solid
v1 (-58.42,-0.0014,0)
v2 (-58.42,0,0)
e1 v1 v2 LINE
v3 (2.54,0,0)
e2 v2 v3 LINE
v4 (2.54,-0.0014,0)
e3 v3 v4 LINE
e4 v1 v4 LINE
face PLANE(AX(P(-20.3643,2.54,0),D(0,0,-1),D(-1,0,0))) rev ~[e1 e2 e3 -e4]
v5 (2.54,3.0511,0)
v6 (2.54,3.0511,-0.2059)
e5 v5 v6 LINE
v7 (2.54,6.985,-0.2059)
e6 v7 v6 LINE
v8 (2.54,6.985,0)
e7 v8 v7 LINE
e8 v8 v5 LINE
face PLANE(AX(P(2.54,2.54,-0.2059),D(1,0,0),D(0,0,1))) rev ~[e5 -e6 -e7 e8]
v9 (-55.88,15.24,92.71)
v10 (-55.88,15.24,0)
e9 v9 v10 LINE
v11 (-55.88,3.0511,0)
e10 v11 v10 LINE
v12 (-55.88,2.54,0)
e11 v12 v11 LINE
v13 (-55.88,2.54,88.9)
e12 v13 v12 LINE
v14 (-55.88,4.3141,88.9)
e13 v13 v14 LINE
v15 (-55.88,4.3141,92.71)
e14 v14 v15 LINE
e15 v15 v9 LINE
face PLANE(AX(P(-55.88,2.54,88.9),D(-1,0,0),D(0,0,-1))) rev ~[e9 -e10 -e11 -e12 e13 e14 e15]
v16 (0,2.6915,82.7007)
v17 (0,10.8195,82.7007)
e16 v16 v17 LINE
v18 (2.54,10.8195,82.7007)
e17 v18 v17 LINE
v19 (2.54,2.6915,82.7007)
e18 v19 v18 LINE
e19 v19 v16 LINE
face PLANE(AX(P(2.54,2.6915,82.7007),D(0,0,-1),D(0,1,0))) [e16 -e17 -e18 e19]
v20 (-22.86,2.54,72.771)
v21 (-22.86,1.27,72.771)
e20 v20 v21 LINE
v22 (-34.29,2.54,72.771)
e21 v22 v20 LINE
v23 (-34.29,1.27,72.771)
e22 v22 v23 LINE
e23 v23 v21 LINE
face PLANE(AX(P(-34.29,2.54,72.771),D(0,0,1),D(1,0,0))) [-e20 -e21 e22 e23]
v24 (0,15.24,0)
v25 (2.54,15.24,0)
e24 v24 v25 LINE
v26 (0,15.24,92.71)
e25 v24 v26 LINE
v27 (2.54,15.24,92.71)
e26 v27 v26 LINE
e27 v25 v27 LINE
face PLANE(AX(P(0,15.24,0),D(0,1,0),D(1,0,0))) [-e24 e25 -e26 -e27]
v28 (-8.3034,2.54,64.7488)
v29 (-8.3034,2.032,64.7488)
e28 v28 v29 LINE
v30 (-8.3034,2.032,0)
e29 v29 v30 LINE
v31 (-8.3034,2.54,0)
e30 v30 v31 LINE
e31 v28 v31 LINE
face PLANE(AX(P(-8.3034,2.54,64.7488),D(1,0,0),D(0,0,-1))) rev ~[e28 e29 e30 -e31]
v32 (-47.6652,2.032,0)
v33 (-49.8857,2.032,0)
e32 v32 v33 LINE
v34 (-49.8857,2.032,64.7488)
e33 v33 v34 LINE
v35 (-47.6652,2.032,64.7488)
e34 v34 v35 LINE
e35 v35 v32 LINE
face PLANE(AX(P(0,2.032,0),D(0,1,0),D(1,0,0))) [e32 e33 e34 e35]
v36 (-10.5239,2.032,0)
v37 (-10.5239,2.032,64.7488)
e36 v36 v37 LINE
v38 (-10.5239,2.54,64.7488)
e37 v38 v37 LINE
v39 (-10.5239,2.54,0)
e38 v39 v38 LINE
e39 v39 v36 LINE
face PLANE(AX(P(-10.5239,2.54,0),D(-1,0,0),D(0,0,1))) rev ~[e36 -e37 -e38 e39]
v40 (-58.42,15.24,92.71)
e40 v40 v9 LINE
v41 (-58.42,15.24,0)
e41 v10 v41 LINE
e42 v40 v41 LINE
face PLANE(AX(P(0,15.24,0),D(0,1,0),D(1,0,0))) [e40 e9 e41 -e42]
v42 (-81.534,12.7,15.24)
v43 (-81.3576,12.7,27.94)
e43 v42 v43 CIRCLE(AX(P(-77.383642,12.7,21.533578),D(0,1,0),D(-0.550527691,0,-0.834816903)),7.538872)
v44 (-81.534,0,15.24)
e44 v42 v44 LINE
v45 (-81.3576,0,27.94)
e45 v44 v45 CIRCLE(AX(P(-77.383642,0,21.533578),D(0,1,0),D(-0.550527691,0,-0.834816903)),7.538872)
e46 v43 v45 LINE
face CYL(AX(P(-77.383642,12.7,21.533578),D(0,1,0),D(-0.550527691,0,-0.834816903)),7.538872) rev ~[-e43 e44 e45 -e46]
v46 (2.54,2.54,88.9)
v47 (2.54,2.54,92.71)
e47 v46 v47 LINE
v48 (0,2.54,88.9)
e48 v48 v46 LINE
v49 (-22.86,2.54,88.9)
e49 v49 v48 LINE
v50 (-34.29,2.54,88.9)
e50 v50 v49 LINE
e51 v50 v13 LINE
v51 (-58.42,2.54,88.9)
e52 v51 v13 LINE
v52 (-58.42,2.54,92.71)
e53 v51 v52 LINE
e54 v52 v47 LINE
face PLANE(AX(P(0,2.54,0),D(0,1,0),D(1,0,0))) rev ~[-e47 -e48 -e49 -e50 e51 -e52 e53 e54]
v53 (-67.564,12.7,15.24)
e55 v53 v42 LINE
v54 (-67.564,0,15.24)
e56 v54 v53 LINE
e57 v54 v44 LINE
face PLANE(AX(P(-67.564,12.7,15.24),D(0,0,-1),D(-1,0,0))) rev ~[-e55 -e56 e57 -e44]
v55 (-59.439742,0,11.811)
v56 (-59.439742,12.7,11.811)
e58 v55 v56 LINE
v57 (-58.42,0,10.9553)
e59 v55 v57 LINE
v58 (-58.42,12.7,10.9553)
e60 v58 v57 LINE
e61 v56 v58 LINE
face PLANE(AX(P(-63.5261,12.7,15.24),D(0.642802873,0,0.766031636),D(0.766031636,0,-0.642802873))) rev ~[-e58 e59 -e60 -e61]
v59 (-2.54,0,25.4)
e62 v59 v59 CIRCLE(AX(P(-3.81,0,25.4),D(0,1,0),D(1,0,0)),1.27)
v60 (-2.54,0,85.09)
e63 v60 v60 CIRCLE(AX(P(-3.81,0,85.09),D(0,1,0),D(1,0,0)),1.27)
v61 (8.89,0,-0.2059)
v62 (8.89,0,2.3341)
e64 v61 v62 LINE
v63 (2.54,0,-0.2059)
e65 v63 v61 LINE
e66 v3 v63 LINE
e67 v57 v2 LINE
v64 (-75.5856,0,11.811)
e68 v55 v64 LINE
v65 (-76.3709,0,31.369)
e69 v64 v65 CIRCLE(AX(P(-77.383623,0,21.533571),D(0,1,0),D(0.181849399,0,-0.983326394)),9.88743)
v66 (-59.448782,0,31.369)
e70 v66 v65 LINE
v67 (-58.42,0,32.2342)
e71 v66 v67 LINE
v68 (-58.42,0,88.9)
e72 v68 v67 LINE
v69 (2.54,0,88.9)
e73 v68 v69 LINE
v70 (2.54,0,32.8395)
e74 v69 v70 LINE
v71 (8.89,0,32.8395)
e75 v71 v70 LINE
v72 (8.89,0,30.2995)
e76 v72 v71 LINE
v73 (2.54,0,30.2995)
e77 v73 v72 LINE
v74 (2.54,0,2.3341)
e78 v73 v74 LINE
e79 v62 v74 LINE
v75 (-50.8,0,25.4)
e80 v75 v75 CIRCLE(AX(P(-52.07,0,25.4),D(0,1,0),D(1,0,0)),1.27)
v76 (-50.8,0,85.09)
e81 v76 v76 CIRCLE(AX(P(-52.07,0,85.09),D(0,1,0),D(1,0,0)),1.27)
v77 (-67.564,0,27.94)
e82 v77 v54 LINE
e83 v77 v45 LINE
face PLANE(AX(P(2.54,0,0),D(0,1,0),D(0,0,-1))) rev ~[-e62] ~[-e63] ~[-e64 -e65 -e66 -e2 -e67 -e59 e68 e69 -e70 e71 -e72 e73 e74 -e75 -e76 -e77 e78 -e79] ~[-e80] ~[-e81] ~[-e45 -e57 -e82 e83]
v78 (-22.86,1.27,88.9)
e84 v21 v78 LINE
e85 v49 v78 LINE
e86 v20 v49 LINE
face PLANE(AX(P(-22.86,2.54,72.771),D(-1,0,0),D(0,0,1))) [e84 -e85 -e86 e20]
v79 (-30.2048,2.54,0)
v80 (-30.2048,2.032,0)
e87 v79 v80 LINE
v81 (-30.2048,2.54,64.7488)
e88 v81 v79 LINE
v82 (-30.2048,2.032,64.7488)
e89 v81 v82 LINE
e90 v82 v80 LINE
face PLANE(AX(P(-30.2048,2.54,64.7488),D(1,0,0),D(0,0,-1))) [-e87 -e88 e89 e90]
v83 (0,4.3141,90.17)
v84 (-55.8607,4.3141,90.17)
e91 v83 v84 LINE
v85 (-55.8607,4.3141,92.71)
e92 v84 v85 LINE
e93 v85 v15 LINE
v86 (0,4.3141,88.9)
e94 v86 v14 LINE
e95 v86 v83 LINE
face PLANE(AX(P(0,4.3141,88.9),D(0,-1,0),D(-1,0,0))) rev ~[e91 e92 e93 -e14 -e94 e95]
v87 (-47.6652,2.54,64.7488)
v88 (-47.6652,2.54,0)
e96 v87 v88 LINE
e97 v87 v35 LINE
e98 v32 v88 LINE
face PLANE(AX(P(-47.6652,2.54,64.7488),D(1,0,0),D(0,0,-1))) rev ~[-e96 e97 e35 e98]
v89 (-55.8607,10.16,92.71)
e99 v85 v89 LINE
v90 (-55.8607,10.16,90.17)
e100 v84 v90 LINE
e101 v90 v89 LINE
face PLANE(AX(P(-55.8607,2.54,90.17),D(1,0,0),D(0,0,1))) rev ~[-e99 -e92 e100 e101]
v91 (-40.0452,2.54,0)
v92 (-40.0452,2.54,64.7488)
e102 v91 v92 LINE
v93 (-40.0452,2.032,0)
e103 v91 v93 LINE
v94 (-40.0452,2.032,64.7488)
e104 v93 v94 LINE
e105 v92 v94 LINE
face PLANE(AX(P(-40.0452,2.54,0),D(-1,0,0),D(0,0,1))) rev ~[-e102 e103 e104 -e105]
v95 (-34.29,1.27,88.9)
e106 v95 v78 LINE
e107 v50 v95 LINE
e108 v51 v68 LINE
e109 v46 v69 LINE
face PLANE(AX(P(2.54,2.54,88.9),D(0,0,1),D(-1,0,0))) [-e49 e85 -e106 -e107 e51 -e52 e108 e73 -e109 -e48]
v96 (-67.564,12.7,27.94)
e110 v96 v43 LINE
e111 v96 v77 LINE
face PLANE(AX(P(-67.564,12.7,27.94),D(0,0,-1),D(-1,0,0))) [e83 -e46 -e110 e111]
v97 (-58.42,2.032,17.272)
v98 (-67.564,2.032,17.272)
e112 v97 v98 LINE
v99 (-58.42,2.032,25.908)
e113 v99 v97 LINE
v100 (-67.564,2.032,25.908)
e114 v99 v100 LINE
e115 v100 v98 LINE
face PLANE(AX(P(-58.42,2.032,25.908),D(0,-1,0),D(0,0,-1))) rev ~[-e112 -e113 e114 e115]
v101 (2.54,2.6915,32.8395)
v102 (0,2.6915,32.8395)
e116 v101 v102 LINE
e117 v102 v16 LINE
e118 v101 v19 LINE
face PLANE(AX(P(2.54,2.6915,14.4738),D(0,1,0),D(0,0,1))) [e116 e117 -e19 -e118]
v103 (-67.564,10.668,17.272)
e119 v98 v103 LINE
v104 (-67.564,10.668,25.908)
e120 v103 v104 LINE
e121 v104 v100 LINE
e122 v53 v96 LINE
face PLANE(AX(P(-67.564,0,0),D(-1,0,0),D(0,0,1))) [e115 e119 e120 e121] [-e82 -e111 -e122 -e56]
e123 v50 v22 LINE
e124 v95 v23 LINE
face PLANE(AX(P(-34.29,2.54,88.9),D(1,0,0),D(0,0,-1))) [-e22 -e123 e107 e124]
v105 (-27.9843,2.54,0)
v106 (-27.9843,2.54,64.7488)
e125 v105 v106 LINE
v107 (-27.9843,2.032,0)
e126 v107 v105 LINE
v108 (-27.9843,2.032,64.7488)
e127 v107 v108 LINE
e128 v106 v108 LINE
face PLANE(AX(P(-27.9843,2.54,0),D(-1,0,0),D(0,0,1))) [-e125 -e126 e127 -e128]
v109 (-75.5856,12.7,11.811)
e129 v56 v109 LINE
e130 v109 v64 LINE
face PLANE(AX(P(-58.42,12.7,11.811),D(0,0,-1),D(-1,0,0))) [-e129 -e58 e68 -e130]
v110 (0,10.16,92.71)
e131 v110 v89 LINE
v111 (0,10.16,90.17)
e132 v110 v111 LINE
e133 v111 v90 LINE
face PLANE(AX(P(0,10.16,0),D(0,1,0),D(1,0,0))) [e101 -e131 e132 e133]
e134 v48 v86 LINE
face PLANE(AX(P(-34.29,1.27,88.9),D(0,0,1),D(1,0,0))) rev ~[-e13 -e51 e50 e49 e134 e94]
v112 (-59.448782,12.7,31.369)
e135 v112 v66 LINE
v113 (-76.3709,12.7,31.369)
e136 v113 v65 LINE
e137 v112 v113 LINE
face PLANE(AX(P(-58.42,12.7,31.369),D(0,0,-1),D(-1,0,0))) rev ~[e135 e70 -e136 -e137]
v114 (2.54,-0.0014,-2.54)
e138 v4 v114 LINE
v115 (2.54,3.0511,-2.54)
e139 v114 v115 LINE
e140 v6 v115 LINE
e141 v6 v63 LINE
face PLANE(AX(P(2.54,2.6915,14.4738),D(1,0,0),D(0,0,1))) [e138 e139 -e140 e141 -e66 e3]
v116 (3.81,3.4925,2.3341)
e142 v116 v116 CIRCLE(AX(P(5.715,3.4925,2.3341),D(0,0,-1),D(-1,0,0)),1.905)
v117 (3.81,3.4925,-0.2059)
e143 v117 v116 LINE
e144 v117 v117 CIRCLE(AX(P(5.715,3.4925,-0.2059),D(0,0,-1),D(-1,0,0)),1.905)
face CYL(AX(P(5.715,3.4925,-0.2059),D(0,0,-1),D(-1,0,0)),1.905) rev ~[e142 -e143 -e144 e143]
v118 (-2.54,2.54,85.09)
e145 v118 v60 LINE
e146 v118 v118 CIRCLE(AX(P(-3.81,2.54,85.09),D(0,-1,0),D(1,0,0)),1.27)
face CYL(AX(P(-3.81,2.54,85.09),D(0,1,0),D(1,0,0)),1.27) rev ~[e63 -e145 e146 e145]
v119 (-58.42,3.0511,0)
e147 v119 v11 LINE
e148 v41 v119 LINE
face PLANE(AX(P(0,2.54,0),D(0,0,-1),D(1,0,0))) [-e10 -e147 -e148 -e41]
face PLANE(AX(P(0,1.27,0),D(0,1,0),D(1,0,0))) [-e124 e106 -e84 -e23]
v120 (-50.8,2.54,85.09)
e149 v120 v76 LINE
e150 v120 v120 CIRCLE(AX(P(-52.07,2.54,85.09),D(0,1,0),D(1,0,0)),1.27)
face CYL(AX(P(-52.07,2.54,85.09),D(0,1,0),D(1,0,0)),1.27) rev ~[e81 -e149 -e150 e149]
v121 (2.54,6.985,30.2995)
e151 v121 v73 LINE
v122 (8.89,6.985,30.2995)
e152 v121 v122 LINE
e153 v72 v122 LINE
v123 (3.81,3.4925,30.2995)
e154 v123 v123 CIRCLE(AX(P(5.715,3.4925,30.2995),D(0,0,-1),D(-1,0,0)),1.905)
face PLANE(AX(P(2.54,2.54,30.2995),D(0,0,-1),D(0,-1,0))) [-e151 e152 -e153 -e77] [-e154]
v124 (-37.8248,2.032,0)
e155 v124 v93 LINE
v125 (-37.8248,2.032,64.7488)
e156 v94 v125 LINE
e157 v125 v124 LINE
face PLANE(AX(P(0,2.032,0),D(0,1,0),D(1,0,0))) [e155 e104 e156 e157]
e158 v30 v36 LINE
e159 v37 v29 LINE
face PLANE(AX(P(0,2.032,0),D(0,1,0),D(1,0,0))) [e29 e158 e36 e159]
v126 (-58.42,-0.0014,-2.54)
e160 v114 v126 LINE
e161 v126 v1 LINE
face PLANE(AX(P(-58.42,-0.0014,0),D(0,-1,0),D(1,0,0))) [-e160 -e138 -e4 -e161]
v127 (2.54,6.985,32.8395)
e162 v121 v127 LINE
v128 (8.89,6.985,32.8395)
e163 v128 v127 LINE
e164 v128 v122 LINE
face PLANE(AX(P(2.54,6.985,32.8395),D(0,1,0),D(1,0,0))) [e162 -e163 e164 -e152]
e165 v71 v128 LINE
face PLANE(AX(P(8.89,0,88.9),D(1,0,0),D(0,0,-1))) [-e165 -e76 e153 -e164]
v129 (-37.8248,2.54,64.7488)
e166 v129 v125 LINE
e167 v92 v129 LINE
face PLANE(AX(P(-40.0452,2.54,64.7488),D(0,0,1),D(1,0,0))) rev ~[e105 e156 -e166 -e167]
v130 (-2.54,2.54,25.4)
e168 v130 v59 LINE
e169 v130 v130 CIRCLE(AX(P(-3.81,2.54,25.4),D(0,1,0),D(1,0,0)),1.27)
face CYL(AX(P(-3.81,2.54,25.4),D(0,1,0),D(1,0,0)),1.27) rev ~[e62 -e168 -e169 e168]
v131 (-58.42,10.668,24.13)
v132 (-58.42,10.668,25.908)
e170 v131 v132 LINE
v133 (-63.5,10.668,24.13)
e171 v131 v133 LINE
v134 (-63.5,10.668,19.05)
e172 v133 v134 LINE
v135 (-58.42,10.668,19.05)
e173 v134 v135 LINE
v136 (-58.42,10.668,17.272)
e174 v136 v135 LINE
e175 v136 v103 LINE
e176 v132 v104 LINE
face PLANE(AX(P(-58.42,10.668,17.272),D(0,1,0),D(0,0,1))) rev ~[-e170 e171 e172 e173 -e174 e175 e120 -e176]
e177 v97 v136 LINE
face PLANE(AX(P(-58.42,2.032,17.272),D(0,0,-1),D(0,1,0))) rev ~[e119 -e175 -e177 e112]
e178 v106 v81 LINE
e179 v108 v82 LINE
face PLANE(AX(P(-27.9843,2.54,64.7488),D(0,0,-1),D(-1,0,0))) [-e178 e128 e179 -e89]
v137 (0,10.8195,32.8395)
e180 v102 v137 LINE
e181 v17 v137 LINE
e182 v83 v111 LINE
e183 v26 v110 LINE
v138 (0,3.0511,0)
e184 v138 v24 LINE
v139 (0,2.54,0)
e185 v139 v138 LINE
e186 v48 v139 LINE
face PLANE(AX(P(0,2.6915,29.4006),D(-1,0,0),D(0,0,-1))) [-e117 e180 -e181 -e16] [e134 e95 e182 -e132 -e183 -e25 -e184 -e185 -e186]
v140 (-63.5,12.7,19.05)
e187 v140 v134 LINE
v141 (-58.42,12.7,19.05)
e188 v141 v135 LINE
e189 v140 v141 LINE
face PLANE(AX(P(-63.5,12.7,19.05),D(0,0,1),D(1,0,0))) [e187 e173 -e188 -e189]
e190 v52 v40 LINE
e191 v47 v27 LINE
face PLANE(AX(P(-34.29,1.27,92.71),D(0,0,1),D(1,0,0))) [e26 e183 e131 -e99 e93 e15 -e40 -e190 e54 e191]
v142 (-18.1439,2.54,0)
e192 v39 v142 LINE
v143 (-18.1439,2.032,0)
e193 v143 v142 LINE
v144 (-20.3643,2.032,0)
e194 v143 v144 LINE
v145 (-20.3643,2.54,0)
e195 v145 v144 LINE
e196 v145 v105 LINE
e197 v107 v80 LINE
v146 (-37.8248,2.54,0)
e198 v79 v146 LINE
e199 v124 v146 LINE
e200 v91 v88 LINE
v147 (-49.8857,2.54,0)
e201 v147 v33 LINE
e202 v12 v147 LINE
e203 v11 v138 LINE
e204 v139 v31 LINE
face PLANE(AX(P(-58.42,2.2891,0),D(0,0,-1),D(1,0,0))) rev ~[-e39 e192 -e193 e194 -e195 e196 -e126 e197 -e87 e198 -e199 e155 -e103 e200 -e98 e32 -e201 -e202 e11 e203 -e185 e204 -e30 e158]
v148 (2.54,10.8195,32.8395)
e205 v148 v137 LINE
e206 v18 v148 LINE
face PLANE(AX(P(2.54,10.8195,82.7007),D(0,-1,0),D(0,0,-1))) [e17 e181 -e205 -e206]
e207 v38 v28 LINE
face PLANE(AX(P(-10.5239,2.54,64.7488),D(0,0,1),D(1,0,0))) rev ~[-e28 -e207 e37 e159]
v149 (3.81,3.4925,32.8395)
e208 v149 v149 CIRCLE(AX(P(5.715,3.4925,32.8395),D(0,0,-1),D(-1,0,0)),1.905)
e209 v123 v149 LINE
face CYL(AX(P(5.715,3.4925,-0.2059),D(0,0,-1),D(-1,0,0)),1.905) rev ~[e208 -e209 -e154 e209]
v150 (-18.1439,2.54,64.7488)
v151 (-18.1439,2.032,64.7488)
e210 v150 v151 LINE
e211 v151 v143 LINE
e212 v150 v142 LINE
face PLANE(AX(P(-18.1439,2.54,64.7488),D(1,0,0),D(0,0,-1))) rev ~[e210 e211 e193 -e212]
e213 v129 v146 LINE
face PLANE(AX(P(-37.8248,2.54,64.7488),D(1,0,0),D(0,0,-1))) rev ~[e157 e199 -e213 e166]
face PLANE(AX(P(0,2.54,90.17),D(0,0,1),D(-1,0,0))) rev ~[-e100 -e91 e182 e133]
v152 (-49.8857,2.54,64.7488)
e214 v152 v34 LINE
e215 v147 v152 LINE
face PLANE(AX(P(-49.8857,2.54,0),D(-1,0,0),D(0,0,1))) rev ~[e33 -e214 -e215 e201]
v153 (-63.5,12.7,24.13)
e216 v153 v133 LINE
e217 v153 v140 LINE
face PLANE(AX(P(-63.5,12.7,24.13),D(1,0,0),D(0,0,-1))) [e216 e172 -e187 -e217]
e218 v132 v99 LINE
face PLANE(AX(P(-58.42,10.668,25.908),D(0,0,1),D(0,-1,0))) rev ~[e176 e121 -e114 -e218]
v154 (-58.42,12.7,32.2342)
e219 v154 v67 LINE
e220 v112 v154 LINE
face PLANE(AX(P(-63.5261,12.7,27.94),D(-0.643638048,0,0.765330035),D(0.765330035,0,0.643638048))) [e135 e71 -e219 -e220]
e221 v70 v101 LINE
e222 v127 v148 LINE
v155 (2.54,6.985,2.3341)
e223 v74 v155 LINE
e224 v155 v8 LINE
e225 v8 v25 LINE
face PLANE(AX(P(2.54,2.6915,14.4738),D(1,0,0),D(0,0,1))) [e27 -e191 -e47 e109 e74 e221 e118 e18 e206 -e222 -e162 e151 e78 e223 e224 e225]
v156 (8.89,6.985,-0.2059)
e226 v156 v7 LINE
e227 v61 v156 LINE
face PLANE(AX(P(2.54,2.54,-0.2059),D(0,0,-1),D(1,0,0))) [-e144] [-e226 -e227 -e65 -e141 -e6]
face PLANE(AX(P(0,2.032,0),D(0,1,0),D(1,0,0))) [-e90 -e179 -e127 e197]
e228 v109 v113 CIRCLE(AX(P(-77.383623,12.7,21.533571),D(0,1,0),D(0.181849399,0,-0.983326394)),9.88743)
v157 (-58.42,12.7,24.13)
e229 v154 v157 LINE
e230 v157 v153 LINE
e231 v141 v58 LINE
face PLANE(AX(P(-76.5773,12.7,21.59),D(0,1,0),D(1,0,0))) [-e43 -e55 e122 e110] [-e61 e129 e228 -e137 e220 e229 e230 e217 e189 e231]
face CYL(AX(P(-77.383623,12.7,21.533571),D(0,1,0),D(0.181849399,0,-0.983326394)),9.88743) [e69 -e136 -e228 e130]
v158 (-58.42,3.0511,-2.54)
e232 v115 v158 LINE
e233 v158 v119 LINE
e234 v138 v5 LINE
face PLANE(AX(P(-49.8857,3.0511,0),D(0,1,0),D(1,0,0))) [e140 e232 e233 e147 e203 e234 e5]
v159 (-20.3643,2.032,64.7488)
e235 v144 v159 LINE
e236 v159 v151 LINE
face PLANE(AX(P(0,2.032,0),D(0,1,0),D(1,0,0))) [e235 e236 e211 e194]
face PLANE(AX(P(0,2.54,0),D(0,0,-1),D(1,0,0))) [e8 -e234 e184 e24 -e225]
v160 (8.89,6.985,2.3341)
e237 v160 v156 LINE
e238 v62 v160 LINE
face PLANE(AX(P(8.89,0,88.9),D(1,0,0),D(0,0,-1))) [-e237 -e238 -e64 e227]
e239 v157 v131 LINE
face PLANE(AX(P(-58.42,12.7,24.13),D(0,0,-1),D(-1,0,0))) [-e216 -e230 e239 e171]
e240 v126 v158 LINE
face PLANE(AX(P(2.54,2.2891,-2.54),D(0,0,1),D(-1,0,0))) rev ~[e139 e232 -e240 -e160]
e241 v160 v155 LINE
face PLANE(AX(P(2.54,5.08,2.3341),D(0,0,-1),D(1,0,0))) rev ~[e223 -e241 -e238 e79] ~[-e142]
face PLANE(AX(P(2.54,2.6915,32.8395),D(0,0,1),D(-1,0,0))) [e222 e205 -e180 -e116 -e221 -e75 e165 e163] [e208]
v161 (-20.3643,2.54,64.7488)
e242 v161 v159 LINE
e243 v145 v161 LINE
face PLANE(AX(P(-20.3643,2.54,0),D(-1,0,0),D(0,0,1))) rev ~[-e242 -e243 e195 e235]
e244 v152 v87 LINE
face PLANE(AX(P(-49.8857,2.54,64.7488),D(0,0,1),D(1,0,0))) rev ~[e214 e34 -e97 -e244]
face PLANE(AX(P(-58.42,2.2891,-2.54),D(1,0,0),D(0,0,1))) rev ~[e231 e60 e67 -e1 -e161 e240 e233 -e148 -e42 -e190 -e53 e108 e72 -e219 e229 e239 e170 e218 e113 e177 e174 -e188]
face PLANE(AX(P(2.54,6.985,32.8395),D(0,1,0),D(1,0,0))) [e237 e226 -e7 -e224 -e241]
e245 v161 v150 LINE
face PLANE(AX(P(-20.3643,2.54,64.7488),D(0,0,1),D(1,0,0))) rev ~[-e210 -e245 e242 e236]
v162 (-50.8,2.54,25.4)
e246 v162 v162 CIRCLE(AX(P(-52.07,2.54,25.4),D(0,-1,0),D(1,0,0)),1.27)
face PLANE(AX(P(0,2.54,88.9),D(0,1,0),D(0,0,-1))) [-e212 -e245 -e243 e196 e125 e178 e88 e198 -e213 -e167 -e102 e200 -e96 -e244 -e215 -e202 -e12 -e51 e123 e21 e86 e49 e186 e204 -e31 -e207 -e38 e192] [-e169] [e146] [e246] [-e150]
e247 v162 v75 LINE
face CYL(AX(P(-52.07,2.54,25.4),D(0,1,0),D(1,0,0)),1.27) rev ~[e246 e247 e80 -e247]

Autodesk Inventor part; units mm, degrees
ref_plane "YZ Plane" through (0, 0, 0) normal (1, 0, 0) x (0, 1, 0)
ref_plane "XZ Plane" through (0, 0, 0) normal (0, 1, 0) x (-1, 0, 0)
ref_plane "XY Plane" through (0, 0, 0) normal (0, 0, 1) x (1, 0, 0)
sketch "Sketch1" plane through (0, 0, 0) normal (0, 1, 0) x (-1, 0, 0)
  line L0 (0, 0) -> (55.88, 0)
  line L1 (55.88, 0) -> (55.88, 88.9)
  line L2 (55.88, 88.9) -> (0, 88.9)
  line L3 (0, 88.9) -> (0, 0)
  dimension "d0" = 55.88
  dimension "d1" = 88.9
extrude "Extrusion1" add sketch "Sketch1" along normal blind 2.54
sketch "Sketch2" plane through (0, 2.54, 0) normal (0, 1, 0) x (1, 0, 0)
  line L0 (-55.88, -88.9) -> (0, -88.9) projected
  line L1 (-22.86, -88.9) -> (-34.29, -88.9)
  line L2 (-34.29, -88.9) -> (-34.29, -72.771)
  line L3 (-34.29, -72.771) -> (-22.86, -72.771)
  line L4 (-22.86, -72.771) -> (-22.86, -88.9)
  point P0 (0, 0)
  dimension "d4" = 11.43
  dimension "d5" = 16.129
  dimension "d6" = 21.59
  dimension "d7" = 22.86
extrude "Extrusion2" cut sketch "Sketch2" against normal blind 1.27
sketch "Sketch3" plane through (0, 2.54, 0) normal (0, 1, 0) x (1, 0, 0)
  line L0 (-10.5239, -64.7488) -> (-8.3034, -64.7488)
  line L1 (-8.3034, -64.7488) -> (-8.3034, 0)
  line L2 (-8.3034, 0) -> (-10.5239, 0)
  line L3 (-10.5239, 0) -> (-10.5239, -64.7488)
  line L4 (0, 0) -> (-55.88, 0) projected
  line L5 (-27.9843, -64.7488) -> (-30.2048, -64.7488)
  line L6 (-30.2048, -64.7488) -> (-30.2048, 0)
  line L7 (-30.2048, 0) -> (-27.9843, 0)
  line L8 (-27.9843, 0) -> (-27.9843, -64.7488)
  line L9 (-49.8857, -64.7488) -> (-47.6652, -64.7488)
  line L10 (-47.6652, -64.7488) -> (-47.6652, 0)
  line L11 (-47.6652, 0) -> (-49.8857, 0)
  line L12 (-49.8857, 0) -> (-49.8857, -64.7488)
  line L13 (-40.0452, -64.7488) -> (-37.8248, -64.7488)
  line L14 (-37.8248, -64.7488) -> (-37.8248, 0)
  line L15 (-37.8248, 0) -> (-40.0452, 0)
  line L16 (-40.0452, 0) -> (-40.0452, -64.7488)
  line L17 (-20.3643, -64.7488) -> (-18.1439, -64.7488)
  line L18 (-18.1439, -64.7488) -> (-18.1439, 0)
  line L19 (-18.1439, 0) -> (-20.3643, 0)
  line L20 (-20.3643, 0) -> (-20.3643, -64.7488)
  line L21 (-47.6652, -64.7488) -> (-40.0452, -64.7488)
  line L22 (-34.29, -72.771) -> (-22.86, -72.771) projected
  line L23 (-37.8248, -64.7488) -> (-30.2048, -64.7488)
  line L24 (-27.9843, -64.7488) -> (-20.3643, -64.7488)
  line L25 (-18.1439, -64.7488) -> (-10.5239, -64.7488)
  dimension "d10" = 7.62
extrude "Extrusion3" cut sketch "Sketch3" against normal blind 0.508 contours L3 L2 L1 L0 | L17 L20 L4 L18 | L5 L6 L4 L8 | L13 L16 L4 L14 | L9 L12 L4 L10
sketch "Sketch4" plane through (-55.88, 0, 0) normal (-1, 0, 0) x (0, 0, 1)
  line L0 (88.9, 0) -> (0, 0) projected
  line L1 (88.9, 0) -> (0, 0)
  line L2 (0, 0) -> (0, 2.54)
  line L3 (0, 2.54) -> (88.9, 2.54)
  line L4 (88.9, 2.54) -> (88.9, 0)
extrude "Extrusion4" add sketch "Sketch4" along normal blind 2.54
sketch "Sketch5" plane through (0, 2.54, 0) normal (0, 1, 0) x (1, 0, 0)
  line L0 (0, -88.9) -> (-58.42, -88.9) projected
  line L1 (-49.8857, 0) -> (-58.42, 0) projected
  line L2 (-58.42, -88.9) -> (-55.88, -88.9)
  line L3 (-55.88, -88.9) -> (-55.88, 0)
  line L4 (-55.88, 0) -> (-58.42, 0)
  line L5 (-58.42, 0) -> (-58.42, -88.9)
  point P0 (0, 0)
  dimension "d15" = 2.54
extrude "Extrusion5" add sketch "Sketch5" along normal blind 12.7
sketch "Sketch6" plane through (0, 0, 88.9) normal (1, 0, 0) x (0, 0, -1)
  line L0 (0, 2.54) -> (16.129, 2.54) projected
  line L1 (0, 0) -> (88.9, 0) projected
  line L2 (0, 2.54) -> (88.9, 2.54)
  line L3 (88.9, 2.54) -> (88.9, 0)
  line L4 (88.9, 0) -> (0, 0)
  line L5 (0, 0) -> (0, 2.54)
extrude "Extrusion6" add sketch "Sketch6" along normal blind 2.54
sketch "Sketch7" plane through (0, 2.54, 0) normal (0, 1, 0) x (1, 0, 0)
  line L0 (2.54, 0) -> (2.54, -88.9) projected
  line L1 (2.54, -88.9) -> (0, -88.9)
  line L2 (0, -88.9) -> (0, 0)
  line L3 (0, 0) -> (2.54, 0)
  line L4 (2.54, 0) -> (2.54, -88.9)
extrude "Extrusion7" add sketch "Sketch7" along normal blind 12.7
sketch "Sketch8" plane through (-34.29, 1.27, 88.9) normal (0, 0, 1) x (1, 0, 0)
  line L0 (-24.13, -1.27) -> (-24.13, 13.97) projected
  line L1 (-21.59, 1.27) -> (-21.59, 13.97) projected
  line L2 (-24.13, 13.97) -> (-21.59, 13.97)
  line L3 (-21.59, 13.97) -> (-21.59, 1.27)
  line L4 (-21.59, 1.27) -> (-24.13, 1.27)
  line L5 (-24.13, 1.27) -> (-24.13, 13.97)
  line L6 (-24.13, 1.27) -> (36.83, 1.27)
  line L7 (36.83, 1.27) -> (36.83, 3.0441)
  line L8 (36.83, 3.0441) -> (-24.13, 3.0441)
  line L9 (-24.13, 3.0441) -> (-24.13, 1.27)
  line L10 (36.83, -1.27) -> (36.83, 13.97) projected
  line L11 (34.29, 1.27) -> (36.83, 1.27)
  line L12 (36.83, 1.27) -> (36.83, 13.97)
  line L13 (36.83, 13.97) -> (34.29, 13.97)
  line L14 (34.29, 13.97) -> (34.29, 1.27)
  line L15 (13.9257, 1.27) -> (6.3057, 1.27) projected
  line L16 (11.43, 0) -> (0, 0) projected
  line L17 (11.3074, 1.27) -> (0, 1.27)
  line L18 (0, 1.27) -> (0, 0)
  line L19 (0, 0) -> (11.3074, 0)
  line L20 (11.3074, 0) -> (11.3074, 1.27)
  point P0 (34.29, -1.27)
extrude "Extrusion8" add sketch "Sketch8" along normal blind 3.81 contours L0 L8 L1 L4 | L0 L2 L1 L8 | L1 L8 L14 L6 | L14 L13 L10 L8 | L8 L7 L6 L14
sketch "Sketch9" plane through (0, 2.54, 0) normal (0, 1, 0) x (1, 0, 0)
  line L0 (0, -92.71) -> (-55.88, -92.71) projected
  line L1 (-55.8607, -92.71) -> (0, -92.71)
  line L2 (0, -92.71) -> (0, -90.17)
  line L3 (0, -90.17) -> (-55.8607, -90.17)
  line L4 (-55.8607, -90.17) -> (-55.8607, -92.71)
  point P0 (0, 0)
  point P1 (-58.42, -92.71)
  point P2 (2.54, -92.71)
  dimension "d24" = 2.54
extrude "Extrusion9" add sketch "Sketch9" along normal blind 7.62
sketch "Sketch10" plane through (-20.3643, 2.54, 0) normal (0, 0, -1) x (-1, 0, 0)
  line L0 (-22.9043, 0) -> (-22.9043, 12.7) projected
  line L1 (38.0557, -2.54) -> (38.0557, 12.7) projected
  line L2 (-22.9043, -3.3059) -> (38.0557, -3.3059)
  line L3 (38.0557, -3.3059) -> (38.0557, -0.2509)
  line L4 (38.0557, -0.2509) -> (-22.9043, -0.2509)
  line L5 (-22.9043, -0.2509) -> (-22.9043, -3.3059)
  point P0 (-20.3643, -2.54)
extrude "Extrusion10" add sketch "Sketch10" along normal blind 2.54
sketch "Sketch11" plane through (-49.8857, 2.2891, 0) normal (0, 1, 0) x (1, 0, 0)
  line L0 (52.4257, 2.54) -> (-8.5343, 2.54) projected
  line L1 (-8.5343, 0) -> (52.4257, 0)
  line L2 (52.4257, 0) -> (52.4257, 2.54)
  line L3 (52.4257, 2.54) -> (-8.5343, 2.54)
  line L4 (-8.5343, 2.54) -> (-8.5343, 0)
  point P0 (49.8857, 0)
extrude "Extrusion12" add sketch "Sketch11" along normal blind 0.762
sketch "Sketch13" plane through (2.54, 0, 88.9) normal (1, 0, 0) x (0, 0, -1)
  line L0 (6.1993, 10.8195) -> (74.4262, 10.8195)
  line L1 (74.4262, 10.8195) -> (74.4262, 2.6915)
  line L2 (74.4262, 2.6915) -> (6.1993, 2.6915)
  line L3 (6.1993, 2.6915) -> (6.1993, 10.8195)
  line L4 (0, 2.54) -> (-3.81, 2.54) projected
  line L5 (0, 2.54) -> (0, 4.3141) projected
  point P0 (88.9, 0)
  dimension "d35" = 8.128
  dimension "d37" = 6.1993
extrude "Extrusion13" cut sketch "Sketch13" against normal blind 2.54
sketch "Sketch14" plane through (0, 2.54, 0) normal (0, 1, 0) x (1, 0, 0)
  circle A0 centre (-52.07, -85.09) radius 1.27
  circle A1 centre (-3.81, -85.09) radius 1.27
  circle A2 centre (-3.81, -25.4) radius 1.27
  circle A3 centre (-52.07, -25.4) radius 1.27
  line L0 (-55.88, 0) -> (0, 0) projected
  line L1 (-53.34, -25.4261) -> (-53.34, -22.8861)
  line L2 (-55.88, 0) -> (-55.88, -92.71) projected
  line L3 (-2.54, -85.09) -> (-2.54, -82.3477)
  line L4 (0, 0) -> (0, -92.71) projected
  line L5 (-3.81, -86.36) -> (-2.794, -86.36)
  line L6 (-22.86, -88.9) -> (0, -88.9) projected
  dimension "d40" = 2.54
  dimension "d41" = 25.4
  dimension "d42" = 2.54
  dimension "d43" = 2.54
  dimension "d44" = 2.54
extrude "Extrusion14" cut sketch "Sketch14" against normal blind 10.922
sketch "Sketch19" plane through (2.54, 2.6915, 82.7007) normal (0, 1, 0) x (1, 0, 0)
  line L0 (-2.54, -6.1993) -> (-2.54, 82.7007) projected
  line L1 (0, 68.2269) -> (0, 0) projected
  line L2 (-2.54, 68.7335) -> (0, 68.7335)
  line L3 (0, 68.7335) -> (0, 53.3001)
  line L4 (0, 53.3001) -> (-2.54, 53.3001)
  line L5 (-2.54, 53.3001) -> (-2.54, 68.7335)
extrude "Extrusion19" add sketch "Sketch19" along normal blind 10.16
sketch "Sketch20" plane through (2.54, 0, 88.9) normal (1, 0, 0) x (0, 0, -1)
  line L0 (56.0605, 2.54) -> (58.6005, 2.54)
  line L1 (58.6005, 2.54) -> (58.6005, 0)
  line L2 (58.6005, 0) -> (56.0605, 0)
  line L3 (56.0605, 0) -> (56.0605, 2.54)
  line L4 (88.9, 0) -> (0, 0) projected
  line L5 (89.1059, 2.54) -> (86.5659, 2.54)
  line L6 (86.5659, 2.54) -> (86.5659, 0)
  line L7 (86.5659, 0) -> (89.1059, 0)
  line L8 (89.1059, 0) -> (89.1059, 2.54)
  line L9 (0, 2.54) -> (88.9, 2.54) projected
  point P0 (57.3305, 0)
  dimension "d61" = 2.54
  dimension "d69" = 27.9654
extrude "Extrusion20" add sketch "Sketch20" along normal blind 5.08 contours L0 L1 L2 L3 | L5 L8 L7 L4 L6
sketch "Sketch21" plane through (2.54, 2.54, 32.8395) normal (0, 1, 0) x (1, 0, 0)
  line L0 (0, 2.54) -> (5.08, 2.54) projected
  line L1 (0, 0) -> (5.08, 0)
  line L2 (5.08, 0) -> (5.08, 2.54)
  line L3 (5.08, 2.54) -> (0, 2.54)
  line L4 (0, 2.54) -> (0, 0)
  line L5 (0, 33.0454) -> (5.08, 33.0454) projected
  line L6 (0, 30.5054) -> (5.08, 30.5054)
  line L7 (5.08, 30.5054) -> (5.08, 33.0454)
  line L8 (5.08, 33.0454) -> (0, 33.0454)
  line L9 (0, 33.0454) -> (0, 30.5054)
  point P0 (-2.54, 32.8395)
extrude "Extrusion21" add sketch "Sketch21" along normal blind 2.54
sketch "Sketch23" plane through (-58.42, 0, 0) normal (-1, 0, 0) x (0, 0, 1)
  line L0 (17.272, 10.668) -> (25.908, 10.668)
  line L1 (25.908, 10.668) -> (25.908, 2.032)
  line L2 (25.908, 2.032) -> (17.272, 2.032)
  line L3 (17.272, 2.032) -> (17.272, 10.668)
  line L4 (0, 3.0511) -> (0, 15.24) projected
  line L5 (15.24, 12.7) -> (27.94, 12.7)
  line L6 (27.94, 12.7) -> (27.94, 0)
  line L7 (27.94, 0) -> (15.24, 0)
  line L8 (15.24, 0) -> (15.24, 12.7)
  line L9 (0, 0) -> (88.9, 0) projected
  dimension "d70" = 8.636
  dimension "d71" = 8.636
  dimension "d73" = 2.032
  dimension "d74" = 12.7
  dimension "d75" = 12.7
  dimension "d76" = 2.032
  dimension "d77" = 15.24
extrude "Extrusion23" add sketch "Sketch23" along normal blind 9.144
sketch "Sketch24" plane through (-58.42, 12.7, 27.94) normal (0, 1, 0) x (1, 0, 0)
  arc A0 (-17.1656, 16.129) -> (-17.9509, -3.429) centre (-18.9636, 6.4064) ccw
  arc A1 (-23.114, 12.7) -> (-22.9376, 0) centre (-18.9636, 6.4064) ccw
  line L0 (0, 12.7) -> (-9.144, 12.7) projected
  line L1 (0, -3.429) -> (-17.9509, -3.429)
  line L2 (0, 16.129) -> (-17.1656, 16.129)
  line L3 (0, 12.7) -> (0, 16.129)
  line L4 (0, 0) -> (0, -3.429)
  line L5 (0, 0) -> (0, -3.429)
  line L6 (-9.144, 12.7) -> (-23.114, 12.7)
  line L7 (-9.144, 0) -> (-22.9376, 0)
  line L8 (0, 0) -> (-9.144, 0) projected
  line L9 (-9.144, 0) -> (0, 0)
  line L10 (0, 12.7) -> (-9.144, 12.7) projected
  line L11 (-9.144, 12.7) -> (0, 12.7)
  point P0 (58.42, 27.94)
  point P1 (-9.144, 1.0206)
  dimension "d101" = 3.429
  dimension "d104" = 3.429
  dimension "d105" = 13.97
sketch "Sketch25" plane through (-58.42, 12.7, 27.94) normal (0, 1, 0) x (1, 0, 0)
  line L0 (0, 27.94) -> (0, -64.77) projected
  line L1 (0, 3.81) -> (-5.08, 3.81)
  line L2 (-5.08, 3.81) -> (-5.08, 8.89)
  line L3 (-5.08, 8.89) -> (0, 8.89)
  line L4 (0, 8.89) -> (0, 3.81)
  line L5 (0, 0) -> (-9.144, 0) projected
  line L6 (0, 12.7) -> (-9.144, 12.7) projected
  point P0 (58.42, 27.94)
  point P1 (-18.1573, 0)
  point P2 (-18.1573, 12.7)
  point P3 (-22.9376, 0)
  point P4 (-23.114, 12.7)
  dimension "d84" = 5.08
  dimension "d85" = 5.08
  dimension "d87" = 3.81
extrude "Extrusion25" cut sketch "Sketch25" against normal blind 5.08
ref_plane "Work Plane2" through (-76.5773, 12.7, 21.59) normal (0, 1, 0) x (1, 0, 0)
sketch "Sketch26" plane through (-76.5773, 12.7, 21.59) normal (0, 1, 0) x (1, 0, 0)
  line L0 (18.1573, 6.35) -> (-4.9567, 6.35) projected
  line L1 (13.0512, 6.35) -> (18.1573, 10.6347)
  line L2 (18.1573, 21.59) -> (18.1573, -67.31) projected
  line L3 (18.1573, 10.6347) -> (18.1573, 6.35)
  line L4 (18.1573, 6.35) -> (13.0512, 6.35)
  line L5 (18.1573, -6.35) -> (-4.7803, -6.35) projected
  line L6 (13.0512, -6.35) -> (18.1573, -10.6442)
  point P0 (76.5773, 21.59)
  point P1 (0, 6.35)
  point P2 (0, -6.35)
  dimension "d90" = 4.2942
extrude "Extrusion26" add sketch "Sketch26" against normal blind 12.7
sketch "Sketch27" plane through (-58.42, -0.7659, 0) normal (0, -1, 0) x (1, 0, 0)
  line L0 (60.96, -2.54) -> (0, -2.54) projected
  line L1 (2.54, 0) -> (0, 0) projected
  line L2 (60.96, -2.54) -> (0, -2.54)
  line L3 (0, -2.54) -> (0, 0)
  line L4 (0, 0) -> (60.96, 0)
  line L5 (60.96, 0) -> (60.96, -2.54)
  point P0 (58.42, 0)
extrude "Extrusion27" cut sketch "Sketch27" against normal blind 0.7645
sketch "Sketch28" plane through (2.54, 5.08, 32.8395) normal (0, 1, 0) x (1, 0, 0)
  line L0 (0, 2.54) -> (0, 0) projected
  line L1 (5.08, 0) -> (5.08, 2.54) projected
  line L2 (0, 2.54) -> (5.08, 2.54)
  line L3 (5.08, 2.54) -> (5.08, 0)
  line L4 (5.08, 0) -> (0, 0)
  line L5 (0, 0) -> (0, 2.54)
  line L6 (0, 33.0454) -> (0, 35.3795) projected
  line L7 (0, 30.5054) -> (5.08, 30.5054) projected
  line L8 (0, 33.0454) -> (5.08, 33.0454)
  line L9 (5.08, 33.0454) -> (5.08, 30.5054)
  line L10 (5.08, 30.5054) -> (0, 30.5054)
  line L11 (0, 30.5054) -> (0, 33.0454)
  point P0 (-2.54, 32.8395)
extrude "Extrusion28" add sketch "Sketch28" along normal blind 1.905
sketch "Sketch29" plane through (7.62, 0, 88.9) normal (1, 0, 0) x (0, 0, -1)
  line L0 (56.0605, 2.6915) -> (56.0605, 6.985) projected
  line L1 (58.6005, 0) -> (58.6005, 6.985) projected
  line L2 (56.0605, 6.985) -> (58.6005, 6.985)
  line L3 (58.6005, 6.985) -> (58.6005, 0)
  line L4 (58.6005, 0) -> (56.0605, 0)
  line L5 (56.0605, 0) -> (56.0605, 6.985)
  line L6 (86.5659, 0) -> (86.5659, 6.985) projected
  line L7 (89.1059, 0) -> (89.1059, 6.985) projected
  line L8 (86.5659, 6.985) -> (89.1059, 6.985)
  line L9 (89.1059, 6.985) -> (89.1059, 0)
  line L10 (89.1059, 0) -> (86.5659, 0)
  line L11 (86.5659, 0) -> (86.5659, 6.985)
  point P0 (88.9, 0)
extrude "Extrusion29" add sketch "Sketch29" along normal blind 1.27
sketch "Sketch30" plane through (0, 2.6915, 82.7007) normal (0, 1, 0) x (1, 0, 0)
  line L0 (2.54, 49.8612) -> (2.54, 0) projected
  line L1 (0, 53.3465) -> (2.54, 53.3465)
  line L2 (2.54, 53.3465) -> (2.54, 49.8612)
  line L3 (2.54, 49.8612) -> (0, 49.8612)
  line L4 (0, 49.8612) -> (0, 53.3465)
  point P0 (0, 82.7007)
extrude "Extrusion30" add sketch "Sketch30" along normal blind 10.16
extrude "Extrusion31" add sketch "Sketch24" against normal blind 12.7
sketch "Sketch31" plane through (2.54, 0, -0.2059) normal (0, 0, -1) x (-1, 0, 0)
  circle A0 centre (-3.175, 3.4925) radius 1.905
  line L0 (0, 6.985) -> (-6.35, 6.985) projected
  line L1 (-6.35, 0) -> (-6.35, 6.985) projected
  point P0 (2.54, 0)
  point P1 (-3.175, 6.985)
  point P2 (-6.35, 3.4925)
  dimension "d108" = 3.81
extrude "Extrusion32" cut sketch "Sketch31" against normal blind 35.56
sketch "Sketch33" plane through (2.54, 0, 88.9) normal (1, 0, 0) x (0, 0, -1)
  line L0 (58.6005, 6.985) -> (58.6005, 0) projected
  line L1 (86.5659, 0) -> (86.5659, 6.985) projected
  line L2 (58.6005, 0) -> (86.5659, 0)
  line L3 (58.6005, 0) -> (86.5659, 0) projected
  line L4 (72.5832, 0) -> (72.5832, 6.0913)
  point P0 (88.9, 0)
properties part number "PI_Box_FINAL_COPY"
